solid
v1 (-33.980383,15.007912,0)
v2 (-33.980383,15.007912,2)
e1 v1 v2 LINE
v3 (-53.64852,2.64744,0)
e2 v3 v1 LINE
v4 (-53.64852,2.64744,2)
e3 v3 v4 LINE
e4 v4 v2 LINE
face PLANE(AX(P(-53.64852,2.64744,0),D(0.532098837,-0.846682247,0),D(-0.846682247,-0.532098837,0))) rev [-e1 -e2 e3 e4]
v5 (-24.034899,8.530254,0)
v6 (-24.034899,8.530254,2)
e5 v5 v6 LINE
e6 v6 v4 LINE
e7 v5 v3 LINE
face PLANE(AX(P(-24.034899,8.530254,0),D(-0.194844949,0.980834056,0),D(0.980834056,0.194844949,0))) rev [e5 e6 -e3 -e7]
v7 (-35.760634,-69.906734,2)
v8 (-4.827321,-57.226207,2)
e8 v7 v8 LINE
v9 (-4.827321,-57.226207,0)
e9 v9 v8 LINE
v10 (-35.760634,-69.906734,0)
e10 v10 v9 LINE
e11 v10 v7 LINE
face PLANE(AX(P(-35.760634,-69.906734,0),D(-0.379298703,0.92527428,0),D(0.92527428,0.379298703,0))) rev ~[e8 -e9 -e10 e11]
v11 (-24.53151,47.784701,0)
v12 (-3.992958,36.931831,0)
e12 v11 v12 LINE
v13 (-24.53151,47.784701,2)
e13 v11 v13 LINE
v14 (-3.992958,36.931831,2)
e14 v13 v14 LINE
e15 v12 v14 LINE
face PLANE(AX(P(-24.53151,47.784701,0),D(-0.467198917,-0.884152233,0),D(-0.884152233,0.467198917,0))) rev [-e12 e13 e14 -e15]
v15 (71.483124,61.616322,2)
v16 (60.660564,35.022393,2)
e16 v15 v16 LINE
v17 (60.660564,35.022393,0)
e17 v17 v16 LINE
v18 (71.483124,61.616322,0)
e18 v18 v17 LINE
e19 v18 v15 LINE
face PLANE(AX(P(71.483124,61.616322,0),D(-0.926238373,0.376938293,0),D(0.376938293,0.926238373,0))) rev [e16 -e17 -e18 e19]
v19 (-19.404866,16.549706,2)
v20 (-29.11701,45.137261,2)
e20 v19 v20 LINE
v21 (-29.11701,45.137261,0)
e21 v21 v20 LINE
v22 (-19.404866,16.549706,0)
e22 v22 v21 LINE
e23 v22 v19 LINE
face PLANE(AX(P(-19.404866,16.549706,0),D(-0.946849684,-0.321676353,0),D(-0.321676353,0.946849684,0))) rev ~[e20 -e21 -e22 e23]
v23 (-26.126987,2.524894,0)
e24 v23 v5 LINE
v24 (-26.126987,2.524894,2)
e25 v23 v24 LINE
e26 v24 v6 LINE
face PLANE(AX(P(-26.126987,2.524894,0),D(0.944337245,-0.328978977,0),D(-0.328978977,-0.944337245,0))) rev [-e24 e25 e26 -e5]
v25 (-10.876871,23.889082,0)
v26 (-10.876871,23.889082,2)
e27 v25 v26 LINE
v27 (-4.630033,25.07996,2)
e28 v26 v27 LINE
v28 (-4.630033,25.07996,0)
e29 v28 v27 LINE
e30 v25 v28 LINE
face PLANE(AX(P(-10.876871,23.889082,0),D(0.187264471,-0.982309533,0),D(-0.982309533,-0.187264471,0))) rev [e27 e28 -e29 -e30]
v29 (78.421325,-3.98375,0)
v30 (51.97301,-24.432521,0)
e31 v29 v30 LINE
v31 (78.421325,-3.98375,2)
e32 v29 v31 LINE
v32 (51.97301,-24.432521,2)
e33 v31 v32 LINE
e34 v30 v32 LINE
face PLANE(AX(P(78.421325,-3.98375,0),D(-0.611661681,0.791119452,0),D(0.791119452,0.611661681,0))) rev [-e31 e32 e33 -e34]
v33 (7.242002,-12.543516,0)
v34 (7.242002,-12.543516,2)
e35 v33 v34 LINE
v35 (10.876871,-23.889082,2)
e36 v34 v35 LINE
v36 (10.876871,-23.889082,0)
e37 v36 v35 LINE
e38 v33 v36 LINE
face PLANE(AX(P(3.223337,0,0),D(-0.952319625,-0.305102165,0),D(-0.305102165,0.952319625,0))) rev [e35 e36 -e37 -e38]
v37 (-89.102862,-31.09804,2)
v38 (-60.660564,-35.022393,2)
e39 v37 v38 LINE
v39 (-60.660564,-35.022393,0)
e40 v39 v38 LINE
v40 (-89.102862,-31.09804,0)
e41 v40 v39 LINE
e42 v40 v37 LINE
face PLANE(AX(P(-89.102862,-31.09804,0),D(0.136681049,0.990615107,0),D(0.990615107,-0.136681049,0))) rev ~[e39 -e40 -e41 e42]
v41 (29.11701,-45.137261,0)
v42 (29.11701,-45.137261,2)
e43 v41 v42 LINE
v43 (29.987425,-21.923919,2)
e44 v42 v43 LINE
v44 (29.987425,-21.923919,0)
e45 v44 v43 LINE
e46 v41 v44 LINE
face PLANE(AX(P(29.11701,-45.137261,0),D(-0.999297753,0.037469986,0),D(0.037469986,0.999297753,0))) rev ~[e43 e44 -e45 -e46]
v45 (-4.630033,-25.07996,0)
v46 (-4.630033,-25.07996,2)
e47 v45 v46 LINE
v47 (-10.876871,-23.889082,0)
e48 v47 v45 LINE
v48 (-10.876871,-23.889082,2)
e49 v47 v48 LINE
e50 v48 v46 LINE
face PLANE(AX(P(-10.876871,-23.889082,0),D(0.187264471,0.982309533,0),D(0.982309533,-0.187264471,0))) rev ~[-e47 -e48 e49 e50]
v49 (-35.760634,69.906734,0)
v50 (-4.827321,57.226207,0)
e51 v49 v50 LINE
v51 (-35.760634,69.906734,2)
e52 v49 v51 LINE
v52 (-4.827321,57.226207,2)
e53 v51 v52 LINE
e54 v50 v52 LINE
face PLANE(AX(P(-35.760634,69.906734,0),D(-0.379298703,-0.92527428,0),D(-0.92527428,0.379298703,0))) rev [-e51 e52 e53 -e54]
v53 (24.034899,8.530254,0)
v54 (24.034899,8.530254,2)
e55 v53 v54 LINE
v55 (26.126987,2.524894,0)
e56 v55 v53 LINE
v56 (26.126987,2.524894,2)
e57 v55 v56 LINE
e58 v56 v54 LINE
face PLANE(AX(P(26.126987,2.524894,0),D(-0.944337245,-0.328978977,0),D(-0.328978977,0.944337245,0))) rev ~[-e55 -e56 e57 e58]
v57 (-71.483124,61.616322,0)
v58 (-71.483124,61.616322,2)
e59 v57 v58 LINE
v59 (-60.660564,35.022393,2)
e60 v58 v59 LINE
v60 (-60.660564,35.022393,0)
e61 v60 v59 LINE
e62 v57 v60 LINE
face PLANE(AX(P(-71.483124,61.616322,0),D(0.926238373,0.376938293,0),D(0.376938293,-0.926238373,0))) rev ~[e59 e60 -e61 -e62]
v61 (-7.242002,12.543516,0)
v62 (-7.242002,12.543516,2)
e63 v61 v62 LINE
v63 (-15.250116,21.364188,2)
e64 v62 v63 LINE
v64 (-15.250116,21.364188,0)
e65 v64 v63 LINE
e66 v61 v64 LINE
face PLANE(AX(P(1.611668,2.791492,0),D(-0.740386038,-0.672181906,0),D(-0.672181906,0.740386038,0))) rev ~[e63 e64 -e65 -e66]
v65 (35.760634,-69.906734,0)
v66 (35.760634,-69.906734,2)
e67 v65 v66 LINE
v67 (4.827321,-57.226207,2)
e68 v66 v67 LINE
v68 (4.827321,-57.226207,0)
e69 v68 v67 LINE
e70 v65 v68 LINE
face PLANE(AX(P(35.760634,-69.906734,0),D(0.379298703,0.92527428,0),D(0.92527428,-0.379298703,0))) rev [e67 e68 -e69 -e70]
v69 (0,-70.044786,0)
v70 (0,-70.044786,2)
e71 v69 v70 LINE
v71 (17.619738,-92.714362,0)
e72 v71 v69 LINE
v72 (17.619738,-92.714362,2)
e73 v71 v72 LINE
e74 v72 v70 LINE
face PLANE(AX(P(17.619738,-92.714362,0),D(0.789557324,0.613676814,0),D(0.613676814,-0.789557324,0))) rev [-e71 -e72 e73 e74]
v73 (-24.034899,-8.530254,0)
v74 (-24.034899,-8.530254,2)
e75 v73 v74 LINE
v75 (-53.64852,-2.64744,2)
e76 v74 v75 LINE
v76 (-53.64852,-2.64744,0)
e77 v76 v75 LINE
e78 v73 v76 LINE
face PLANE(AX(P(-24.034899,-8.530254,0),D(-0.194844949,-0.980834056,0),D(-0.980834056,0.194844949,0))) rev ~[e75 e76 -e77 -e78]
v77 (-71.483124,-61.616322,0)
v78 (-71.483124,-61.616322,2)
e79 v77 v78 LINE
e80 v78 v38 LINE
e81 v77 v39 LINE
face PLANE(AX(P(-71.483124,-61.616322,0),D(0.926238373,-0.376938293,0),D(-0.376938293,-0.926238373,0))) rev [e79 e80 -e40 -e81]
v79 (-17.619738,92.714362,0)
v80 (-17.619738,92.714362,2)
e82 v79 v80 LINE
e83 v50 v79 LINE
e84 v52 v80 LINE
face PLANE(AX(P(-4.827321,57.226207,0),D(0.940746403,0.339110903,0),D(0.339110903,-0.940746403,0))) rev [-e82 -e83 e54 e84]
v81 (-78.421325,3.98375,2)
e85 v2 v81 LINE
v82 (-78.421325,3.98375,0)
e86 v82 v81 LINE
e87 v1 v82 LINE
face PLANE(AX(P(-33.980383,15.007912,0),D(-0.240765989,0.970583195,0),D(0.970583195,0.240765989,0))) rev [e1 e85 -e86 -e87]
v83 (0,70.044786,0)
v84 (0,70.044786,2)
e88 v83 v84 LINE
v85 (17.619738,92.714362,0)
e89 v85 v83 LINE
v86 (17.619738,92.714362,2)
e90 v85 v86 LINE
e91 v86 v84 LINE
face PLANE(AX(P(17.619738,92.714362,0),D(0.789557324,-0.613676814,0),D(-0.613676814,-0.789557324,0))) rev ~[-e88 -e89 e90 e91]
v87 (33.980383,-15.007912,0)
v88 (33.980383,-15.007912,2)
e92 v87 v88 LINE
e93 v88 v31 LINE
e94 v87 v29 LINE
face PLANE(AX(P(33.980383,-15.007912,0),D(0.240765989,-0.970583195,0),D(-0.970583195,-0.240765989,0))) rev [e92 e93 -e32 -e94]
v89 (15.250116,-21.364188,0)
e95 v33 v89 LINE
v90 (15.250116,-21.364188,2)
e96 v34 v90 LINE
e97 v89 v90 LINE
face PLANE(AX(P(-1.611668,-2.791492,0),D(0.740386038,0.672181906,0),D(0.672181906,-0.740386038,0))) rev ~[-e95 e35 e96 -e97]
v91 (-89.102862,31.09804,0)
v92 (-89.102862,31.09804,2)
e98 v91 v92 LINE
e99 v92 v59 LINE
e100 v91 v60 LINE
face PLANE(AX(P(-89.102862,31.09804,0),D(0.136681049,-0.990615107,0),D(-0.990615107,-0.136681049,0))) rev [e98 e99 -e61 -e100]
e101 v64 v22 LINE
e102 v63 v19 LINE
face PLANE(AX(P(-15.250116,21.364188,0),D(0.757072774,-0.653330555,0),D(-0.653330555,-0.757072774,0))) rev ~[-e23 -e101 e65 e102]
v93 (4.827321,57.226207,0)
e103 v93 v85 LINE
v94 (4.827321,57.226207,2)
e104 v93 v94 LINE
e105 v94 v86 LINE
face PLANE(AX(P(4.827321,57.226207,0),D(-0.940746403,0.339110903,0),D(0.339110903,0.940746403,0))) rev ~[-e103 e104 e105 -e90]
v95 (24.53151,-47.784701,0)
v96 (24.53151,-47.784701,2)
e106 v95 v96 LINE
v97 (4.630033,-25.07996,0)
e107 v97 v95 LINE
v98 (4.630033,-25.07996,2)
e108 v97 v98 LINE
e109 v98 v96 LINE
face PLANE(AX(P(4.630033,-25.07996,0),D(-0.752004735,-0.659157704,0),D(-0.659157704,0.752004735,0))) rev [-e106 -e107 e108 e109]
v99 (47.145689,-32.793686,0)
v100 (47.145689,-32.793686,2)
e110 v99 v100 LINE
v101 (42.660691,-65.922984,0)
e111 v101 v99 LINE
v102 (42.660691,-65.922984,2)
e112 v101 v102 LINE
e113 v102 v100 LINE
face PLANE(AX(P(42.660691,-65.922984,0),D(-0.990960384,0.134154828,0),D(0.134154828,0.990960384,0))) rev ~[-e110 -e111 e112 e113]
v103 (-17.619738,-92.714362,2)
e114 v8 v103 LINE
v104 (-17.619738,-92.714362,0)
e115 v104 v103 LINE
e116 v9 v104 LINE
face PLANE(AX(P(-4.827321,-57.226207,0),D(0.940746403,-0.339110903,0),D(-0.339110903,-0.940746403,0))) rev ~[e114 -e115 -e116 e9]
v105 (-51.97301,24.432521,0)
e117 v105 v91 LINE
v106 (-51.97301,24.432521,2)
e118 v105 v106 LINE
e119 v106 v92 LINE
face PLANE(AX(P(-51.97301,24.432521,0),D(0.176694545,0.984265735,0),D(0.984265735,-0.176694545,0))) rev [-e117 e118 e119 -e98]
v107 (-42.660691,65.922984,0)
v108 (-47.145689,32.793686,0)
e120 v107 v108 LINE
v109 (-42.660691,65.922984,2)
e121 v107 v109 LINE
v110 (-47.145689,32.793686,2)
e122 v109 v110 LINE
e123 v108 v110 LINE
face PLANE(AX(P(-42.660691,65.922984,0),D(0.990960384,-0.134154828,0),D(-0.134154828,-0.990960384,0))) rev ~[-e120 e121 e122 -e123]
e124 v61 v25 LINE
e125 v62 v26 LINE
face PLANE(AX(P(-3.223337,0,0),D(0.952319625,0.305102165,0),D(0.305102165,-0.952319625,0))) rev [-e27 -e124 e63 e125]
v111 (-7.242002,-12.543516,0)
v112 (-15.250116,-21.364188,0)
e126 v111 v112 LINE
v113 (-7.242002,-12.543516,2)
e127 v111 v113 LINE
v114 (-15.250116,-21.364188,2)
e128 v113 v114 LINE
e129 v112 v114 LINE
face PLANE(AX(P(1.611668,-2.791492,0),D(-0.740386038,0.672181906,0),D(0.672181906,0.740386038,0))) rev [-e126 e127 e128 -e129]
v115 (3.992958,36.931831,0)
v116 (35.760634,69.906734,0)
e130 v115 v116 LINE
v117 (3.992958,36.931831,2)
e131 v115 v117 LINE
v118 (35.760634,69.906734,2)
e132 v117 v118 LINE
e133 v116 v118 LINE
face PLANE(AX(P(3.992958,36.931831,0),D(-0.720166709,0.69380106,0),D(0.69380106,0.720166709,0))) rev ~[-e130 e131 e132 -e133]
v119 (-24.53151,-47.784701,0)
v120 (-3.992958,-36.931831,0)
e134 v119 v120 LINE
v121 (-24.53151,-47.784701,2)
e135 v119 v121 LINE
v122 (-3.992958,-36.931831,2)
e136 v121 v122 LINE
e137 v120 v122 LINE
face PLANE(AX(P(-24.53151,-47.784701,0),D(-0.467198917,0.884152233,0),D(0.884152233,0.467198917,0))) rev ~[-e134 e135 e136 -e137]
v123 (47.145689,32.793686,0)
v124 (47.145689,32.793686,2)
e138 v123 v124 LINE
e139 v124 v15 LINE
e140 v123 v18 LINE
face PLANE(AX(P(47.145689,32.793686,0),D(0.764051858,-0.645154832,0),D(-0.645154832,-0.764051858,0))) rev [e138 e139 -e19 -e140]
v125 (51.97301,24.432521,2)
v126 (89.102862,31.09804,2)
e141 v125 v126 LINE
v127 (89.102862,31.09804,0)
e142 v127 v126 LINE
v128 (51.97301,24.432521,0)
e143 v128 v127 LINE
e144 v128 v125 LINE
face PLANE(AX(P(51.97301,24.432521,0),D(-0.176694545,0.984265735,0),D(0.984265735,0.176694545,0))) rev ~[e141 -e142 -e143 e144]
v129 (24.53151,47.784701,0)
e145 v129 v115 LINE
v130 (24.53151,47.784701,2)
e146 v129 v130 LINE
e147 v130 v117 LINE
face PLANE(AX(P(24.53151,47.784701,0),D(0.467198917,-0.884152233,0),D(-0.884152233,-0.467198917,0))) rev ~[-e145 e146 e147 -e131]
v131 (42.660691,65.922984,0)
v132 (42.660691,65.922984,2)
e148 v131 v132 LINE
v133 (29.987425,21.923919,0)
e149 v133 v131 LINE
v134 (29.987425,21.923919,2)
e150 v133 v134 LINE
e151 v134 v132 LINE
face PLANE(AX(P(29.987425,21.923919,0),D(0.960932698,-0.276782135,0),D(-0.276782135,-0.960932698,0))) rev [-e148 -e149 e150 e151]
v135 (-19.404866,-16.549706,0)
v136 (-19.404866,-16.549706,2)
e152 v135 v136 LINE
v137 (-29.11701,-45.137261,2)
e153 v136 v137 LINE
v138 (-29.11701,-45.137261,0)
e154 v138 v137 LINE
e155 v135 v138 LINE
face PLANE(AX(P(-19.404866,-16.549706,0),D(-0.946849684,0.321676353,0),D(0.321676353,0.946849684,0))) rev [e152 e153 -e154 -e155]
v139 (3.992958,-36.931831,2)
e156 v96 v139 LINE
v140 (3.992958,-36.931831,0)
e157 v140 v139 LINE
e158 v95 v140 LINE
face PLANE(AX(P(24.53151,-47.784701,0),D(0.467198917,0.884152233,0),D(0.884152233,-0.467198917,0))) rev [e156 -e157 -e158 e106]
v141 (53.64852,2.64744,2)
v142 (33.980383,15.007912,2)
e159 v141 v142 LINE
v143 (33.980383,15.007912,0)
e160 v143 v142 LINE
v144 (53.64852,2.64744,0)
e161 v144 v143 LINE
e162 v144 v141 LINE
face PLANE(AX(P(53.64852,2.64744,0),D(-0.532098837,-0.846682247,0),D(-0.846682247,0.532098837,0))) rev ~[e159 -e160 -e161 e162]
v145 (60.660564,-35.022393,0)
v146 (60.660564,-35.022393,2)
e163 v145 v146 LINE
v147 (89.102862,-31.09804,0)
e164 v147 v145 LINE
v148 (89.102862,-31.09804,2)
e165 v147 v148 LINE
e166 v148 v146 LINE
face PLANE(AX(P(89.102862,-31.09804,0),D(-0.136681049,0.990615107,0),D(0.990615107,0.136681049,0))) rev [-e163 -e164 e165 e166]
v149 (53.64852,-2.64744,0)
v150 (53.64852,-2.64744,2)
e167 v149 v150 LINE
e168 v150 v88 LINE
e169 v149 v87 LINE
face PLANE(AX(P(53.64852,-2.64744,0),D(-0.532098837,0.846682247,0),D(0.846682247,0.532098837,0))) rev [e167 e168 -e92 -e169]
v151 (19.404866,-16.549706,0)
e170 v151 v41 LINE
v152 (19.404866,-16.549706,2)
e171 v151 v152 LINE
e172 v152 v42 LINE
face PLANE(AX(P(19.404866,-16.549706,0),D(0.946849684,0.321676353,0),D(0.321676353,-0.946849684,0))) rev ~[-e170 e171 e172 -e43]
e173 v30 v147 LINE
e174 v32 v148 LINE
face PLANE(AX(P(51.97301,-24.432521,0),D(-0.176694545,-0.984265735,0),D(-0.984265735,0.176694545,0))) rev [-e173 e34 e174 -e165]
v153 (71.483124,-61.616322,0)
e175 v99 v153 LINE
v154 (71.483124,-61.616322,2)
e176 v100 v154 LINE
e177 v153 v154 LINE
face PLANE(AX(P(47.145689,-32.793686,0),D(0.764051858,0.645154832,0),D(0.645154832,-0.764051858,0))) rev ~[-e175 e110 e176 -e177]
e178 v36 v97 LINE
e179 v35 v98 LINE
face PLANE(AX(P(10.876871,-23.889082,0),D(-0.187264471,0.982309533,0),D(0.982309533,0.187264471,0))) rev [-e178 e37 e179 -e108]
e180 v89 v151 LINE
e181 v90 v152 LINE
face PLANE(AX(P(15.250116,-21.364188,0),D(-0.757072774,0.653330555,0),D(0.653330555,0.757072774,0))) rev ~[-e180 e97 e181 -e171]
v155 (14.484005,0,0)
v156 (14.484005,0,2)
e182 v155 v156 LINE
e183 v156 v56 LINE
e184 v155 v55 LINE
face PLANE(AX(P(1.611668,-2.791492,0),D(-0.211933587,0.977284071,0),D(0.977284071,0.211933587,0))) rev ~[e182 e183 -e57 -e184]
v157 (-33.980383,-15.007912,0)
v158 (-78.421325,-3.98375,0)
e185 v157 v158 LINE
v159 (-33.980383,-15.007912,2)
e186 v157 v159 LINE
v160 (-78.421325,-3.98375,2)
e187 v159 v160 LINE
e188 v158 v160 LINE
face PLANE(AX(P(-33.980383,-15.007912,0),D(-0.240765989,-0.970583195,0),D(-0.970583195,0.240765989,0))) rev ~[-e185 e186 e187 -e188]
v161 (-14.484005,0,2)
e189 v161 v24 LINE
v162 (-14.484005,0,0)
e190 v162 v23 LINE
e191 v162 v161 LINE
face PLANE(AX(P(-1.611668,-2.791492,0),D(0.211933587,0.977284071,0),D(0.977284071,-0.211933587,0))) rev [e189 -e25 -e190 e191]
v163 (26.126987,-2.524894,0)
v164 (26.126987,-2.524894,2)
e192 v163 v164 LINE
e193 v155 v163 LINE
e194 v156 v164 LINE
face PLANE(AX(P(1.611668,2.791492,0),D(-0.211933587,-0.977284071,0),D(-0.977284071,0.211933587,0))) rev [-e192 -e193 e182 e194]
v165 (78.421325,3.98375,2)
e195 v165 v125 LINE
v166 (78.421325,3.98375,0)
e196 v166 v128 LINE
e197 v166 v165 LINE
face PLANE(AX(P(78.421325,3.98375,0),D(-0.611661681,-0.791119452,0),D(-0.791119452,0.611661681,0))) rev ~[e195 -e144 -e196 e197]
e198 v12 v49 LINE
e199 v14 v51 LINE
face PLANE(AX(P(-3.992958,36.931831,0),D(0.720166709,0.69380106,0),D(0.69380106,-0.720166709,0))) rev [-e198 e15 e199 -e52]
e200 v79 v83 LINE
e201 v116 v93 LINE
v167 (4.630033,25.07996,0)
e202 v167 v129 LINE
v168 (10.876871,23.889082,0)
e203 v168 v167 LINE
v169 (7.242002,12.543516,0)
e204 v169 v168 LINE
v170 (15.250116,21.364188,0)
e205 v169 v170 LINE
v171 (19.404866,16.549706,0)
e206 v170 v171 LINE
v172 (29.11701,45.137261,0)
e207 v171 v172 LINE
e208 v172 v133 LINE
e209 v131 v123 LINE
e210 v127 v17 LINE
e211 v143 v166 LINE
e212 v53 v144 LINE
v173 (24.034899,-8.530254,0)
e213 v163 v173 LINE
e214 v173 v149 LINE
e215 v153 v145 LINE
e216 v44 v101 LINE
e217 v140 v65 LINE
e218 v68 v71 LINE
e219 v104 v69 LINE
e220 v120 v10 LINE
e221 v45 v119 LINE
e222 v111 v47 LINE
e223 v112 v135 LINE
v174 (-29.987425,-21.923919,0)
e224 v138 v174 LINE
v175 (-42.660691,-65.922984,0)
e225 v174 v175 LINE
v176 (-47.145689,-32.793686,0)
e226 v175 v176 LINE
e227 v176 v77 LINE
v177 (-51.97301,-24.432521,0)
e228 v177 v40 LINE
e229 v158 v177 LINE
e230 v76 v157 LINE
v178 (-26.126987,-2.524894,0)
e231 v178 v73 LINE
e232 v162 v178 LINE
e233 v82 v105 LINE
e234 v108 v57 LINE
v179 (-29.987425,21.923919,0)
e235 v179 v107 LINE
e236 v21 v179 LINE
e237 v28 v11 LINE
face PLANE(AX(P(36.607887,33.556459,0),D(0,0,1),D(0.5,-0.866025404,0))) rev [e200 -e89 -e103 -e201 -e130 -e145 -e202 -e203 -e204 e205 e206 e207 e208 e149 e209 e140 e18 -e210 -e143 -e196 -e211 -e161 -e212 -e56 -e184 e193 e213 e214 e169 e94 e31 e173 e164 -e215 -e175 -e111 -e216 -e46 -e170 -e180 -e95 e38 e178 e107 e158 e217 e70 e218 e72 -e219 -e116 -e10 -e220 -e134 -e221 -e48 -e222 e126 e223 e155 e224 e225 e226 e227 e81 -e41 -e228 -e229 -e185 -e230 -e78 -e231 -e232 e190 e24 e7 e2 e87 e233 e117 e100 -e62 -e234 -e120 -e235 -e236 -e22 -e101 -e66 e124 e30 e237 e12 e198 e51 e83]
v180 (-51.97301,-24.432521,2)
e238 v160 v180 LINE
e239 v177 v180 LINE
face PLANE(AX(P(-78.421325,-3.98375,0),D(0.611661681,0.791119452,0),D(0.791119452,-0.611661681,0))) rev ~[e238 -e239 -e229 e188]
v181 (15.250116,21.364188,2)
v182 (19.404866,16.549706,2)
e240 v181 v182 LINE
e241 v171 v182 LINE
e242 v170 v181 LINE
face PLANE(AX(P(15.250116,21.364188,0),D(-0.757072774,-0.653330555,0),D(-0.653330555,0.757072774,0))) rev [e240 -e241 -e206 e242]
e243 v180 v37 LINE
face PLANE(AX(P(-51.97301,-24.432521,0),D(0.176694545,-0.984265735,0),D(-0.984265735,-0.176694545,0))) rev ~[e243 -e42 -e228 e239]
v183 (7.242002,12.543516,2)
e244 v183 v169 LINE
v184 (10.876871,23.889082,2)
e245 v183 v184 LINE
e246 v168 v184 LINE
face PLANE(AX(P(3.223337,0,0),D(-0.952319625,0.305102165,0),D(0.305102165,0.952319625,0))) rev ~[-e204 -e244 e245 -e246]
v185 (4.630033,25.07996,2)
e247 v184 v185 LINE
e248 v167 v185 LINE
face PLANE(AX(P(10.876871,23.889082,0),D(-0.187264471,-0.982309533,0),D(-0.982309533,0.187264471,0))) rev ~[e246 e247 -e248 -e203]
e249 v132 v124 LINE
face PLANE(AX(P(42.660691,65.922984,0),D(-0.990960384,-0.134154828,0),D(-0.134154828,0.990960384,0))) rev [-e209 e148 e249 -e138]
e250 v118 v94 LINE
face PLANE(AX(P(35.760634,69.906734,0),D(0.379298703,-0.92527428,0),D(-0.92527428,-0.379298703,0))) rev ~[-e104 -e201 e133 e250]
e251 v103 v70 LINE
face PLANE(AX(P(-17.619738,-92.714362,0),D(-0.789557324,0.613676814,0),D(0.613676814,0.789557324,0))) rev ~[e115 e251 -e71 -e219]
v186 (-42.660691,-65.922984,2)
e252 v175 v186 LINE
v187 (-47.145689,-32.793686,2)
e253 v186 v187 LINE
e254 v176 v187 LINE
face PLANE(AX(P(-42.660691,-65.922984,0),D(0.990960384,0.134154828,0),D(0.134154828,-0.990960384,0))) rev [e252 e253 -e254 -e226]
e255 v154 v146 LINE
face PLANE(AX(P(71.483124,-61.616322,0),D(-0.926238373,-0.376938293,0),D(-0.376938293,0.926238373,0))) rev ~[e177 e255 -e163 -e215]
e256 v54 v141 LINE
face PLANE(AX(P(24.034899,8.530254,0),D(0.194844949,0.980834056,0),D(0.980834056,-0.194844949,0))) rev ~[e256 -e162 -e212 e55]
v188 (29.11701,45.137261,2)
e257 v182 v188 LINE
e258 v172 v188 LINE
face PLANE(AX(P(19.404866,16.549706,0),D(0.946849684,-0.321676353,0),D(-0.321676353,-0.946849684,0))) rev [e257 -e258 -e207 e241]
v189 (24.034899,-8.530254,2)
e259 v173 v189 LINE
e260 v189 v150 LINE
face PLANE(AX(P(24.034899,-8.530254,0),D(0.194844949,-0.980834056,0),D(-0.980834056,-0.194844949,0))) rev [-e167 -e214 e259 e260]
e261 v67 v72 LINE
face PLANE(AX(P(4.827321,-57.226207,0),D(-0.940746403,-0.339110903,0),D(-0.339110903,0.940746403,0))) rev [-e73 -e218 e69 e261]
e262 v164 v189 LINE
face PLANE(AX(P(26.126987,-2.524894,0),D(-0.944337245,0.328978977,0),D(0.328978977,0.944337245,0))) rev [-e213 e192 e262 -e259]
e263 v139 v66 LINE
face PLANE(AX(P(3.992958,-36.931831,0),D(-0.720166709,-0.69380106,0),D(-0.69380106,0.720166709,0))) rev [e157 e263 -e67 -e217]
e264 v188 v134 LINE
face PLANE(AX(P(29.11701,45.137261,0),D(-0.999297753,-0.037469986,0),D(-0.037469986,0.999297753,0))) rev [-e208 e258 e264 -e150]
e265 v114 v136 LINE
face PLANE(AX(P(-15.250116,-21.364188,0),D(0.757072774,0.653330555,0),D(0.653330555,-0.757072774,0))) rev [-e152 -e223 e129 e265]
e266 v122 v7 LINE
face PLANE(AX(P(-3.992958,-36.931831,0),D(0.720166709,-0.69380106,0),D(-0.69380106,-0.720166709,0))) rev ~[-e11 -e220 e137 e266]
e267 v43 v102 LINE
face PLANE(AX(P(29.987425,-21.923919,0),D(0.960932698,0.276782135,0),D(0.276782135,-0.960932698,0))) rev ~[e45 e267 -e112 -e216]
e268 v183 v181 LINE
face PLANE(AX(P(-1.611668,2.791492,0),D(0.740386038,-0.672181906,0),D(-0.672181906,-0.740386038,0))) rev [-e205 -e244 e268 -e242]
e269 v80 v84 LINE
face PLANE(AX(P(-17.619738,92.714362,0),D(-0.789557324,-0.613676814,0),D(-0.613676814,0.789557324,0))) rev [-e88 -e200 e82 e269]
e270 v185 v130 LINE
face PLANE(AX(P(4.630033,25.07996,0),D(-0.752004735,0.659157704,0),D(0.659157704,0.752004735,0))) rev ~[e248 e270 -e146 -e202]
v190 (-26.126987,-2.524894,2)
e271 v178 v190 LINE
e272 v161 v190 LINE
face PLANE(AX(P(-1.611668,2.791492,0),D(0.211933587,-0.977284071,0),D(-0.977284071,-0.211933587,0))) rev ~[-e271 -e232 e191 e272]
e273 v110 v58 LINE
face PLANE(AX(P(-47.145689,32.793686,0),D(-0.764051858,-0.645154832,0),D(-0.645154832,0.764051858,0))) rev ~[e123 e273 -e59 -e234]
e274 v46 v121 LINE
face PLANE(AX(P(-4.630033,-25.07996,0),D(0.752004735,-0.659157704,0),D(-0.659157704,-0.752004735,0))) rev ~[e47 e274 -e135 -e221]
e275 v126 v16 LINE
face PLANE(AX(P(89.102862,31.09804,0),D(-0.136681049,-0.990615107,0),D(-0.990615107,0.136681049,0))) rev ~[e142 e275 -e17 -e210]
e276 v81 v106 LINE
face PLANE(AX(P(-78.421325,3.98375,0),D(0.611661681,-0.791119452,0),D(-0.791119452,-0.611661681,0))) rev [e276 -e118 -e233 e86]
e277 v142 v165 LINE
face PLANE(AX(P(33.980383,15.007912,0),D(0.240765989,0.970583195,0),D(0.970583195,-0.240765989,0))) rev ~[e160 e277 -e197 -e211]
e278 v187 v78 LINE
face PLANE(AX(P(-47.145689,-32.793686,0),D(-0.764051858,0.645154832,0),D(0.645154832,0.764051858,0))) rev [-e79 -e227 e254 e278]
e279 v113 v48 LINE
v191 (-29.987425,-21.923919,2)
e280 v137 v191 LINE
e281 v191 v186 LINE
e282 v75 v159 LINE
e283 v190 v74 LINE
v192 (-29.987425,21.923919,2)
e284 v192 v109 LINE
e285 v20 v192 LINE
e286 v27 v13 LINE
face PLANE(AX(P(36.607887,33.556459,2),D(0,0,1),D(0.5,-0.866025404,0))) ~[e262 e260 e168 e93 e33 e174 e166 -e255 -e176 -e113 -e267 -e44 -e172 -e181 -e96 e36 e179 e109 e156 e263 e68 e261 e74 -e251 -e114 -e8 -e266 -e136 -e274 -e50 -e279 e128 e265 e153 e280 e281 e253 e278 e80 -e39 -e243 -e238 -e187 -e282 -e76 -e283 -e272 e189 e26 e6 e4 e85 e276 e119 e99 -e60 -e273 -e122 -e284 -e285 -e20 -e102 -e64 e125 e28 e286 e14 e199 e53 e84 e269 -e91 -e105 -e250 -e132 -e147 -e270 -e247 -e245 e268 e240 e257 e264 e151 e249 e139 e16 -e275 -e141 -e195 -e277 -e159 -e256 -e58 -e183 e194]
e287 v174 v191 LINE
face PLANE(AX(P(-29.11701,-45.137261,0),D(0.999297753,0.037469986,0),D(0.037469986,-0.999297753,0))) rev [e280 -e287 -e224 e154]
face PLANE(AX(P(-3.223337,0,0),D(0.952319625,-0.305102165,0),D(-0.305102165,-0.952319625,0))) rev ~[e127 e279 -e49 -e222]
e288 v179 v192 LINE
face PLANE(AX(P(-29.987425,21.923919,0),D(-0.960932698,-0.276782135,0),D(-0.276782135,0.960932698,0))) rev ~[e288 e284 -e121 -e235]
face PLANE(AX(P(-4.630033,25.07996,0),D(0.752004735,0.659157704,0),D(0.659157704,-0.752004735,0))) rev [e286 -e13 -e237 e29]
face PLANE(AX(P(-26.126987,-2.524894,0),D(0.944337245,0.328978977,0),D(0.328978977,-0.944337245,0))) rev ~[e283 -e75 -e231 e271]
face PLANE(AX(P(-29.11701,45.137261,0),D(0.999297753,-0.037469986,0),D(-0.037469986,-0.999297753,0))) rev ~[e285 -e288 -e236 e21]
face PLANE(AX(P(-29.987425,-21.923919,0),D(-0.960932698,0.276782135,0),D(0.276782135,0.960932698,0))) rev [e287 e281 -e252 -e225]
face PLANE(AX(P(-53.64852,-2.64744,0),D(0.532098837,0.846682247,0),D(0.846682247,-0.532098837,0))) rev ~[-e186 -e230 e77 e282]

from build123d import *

# Parameters (mm, degrees)
F1_DEPTH = 2
F4_COUNT = 6
F4_ANGLE = 300


with BuildPart() as f1:
    # F0 (on Top) → F1 (new body)
    with BuildSketch(Plane.XY):
        Polygon((4.630033, 25.07996), (24.53151, 47.784701), (3.992958, 36.931831), (35.760634, 69.906734), (4.827321, 57.226207), (17.619738, 92.714362), (0, 70.044786), (0, 0), (3.223337, 0), (10.876871, 23.889082), align=None)
    extrude(amount=F1_DEPTH)

    # F2: F1 across plane


with BuildPart() as f1_1:
    add(f1.part)
    add(f1.part.mirror(Plane.YZ))

    # F4: F1 ×6 about axis
    f4_axis = Axis((0, 0, 4.113019), (0, 0, 1))


with BuildPart() as f1_2:
    add(f1_1.part)
    for i in range(1, F4_COUNT):
        add(f1_1.part.rotate(f4_axis, i * F4_ANGLE / (F4_COUNT - 1)))


solid = f1_2.part
